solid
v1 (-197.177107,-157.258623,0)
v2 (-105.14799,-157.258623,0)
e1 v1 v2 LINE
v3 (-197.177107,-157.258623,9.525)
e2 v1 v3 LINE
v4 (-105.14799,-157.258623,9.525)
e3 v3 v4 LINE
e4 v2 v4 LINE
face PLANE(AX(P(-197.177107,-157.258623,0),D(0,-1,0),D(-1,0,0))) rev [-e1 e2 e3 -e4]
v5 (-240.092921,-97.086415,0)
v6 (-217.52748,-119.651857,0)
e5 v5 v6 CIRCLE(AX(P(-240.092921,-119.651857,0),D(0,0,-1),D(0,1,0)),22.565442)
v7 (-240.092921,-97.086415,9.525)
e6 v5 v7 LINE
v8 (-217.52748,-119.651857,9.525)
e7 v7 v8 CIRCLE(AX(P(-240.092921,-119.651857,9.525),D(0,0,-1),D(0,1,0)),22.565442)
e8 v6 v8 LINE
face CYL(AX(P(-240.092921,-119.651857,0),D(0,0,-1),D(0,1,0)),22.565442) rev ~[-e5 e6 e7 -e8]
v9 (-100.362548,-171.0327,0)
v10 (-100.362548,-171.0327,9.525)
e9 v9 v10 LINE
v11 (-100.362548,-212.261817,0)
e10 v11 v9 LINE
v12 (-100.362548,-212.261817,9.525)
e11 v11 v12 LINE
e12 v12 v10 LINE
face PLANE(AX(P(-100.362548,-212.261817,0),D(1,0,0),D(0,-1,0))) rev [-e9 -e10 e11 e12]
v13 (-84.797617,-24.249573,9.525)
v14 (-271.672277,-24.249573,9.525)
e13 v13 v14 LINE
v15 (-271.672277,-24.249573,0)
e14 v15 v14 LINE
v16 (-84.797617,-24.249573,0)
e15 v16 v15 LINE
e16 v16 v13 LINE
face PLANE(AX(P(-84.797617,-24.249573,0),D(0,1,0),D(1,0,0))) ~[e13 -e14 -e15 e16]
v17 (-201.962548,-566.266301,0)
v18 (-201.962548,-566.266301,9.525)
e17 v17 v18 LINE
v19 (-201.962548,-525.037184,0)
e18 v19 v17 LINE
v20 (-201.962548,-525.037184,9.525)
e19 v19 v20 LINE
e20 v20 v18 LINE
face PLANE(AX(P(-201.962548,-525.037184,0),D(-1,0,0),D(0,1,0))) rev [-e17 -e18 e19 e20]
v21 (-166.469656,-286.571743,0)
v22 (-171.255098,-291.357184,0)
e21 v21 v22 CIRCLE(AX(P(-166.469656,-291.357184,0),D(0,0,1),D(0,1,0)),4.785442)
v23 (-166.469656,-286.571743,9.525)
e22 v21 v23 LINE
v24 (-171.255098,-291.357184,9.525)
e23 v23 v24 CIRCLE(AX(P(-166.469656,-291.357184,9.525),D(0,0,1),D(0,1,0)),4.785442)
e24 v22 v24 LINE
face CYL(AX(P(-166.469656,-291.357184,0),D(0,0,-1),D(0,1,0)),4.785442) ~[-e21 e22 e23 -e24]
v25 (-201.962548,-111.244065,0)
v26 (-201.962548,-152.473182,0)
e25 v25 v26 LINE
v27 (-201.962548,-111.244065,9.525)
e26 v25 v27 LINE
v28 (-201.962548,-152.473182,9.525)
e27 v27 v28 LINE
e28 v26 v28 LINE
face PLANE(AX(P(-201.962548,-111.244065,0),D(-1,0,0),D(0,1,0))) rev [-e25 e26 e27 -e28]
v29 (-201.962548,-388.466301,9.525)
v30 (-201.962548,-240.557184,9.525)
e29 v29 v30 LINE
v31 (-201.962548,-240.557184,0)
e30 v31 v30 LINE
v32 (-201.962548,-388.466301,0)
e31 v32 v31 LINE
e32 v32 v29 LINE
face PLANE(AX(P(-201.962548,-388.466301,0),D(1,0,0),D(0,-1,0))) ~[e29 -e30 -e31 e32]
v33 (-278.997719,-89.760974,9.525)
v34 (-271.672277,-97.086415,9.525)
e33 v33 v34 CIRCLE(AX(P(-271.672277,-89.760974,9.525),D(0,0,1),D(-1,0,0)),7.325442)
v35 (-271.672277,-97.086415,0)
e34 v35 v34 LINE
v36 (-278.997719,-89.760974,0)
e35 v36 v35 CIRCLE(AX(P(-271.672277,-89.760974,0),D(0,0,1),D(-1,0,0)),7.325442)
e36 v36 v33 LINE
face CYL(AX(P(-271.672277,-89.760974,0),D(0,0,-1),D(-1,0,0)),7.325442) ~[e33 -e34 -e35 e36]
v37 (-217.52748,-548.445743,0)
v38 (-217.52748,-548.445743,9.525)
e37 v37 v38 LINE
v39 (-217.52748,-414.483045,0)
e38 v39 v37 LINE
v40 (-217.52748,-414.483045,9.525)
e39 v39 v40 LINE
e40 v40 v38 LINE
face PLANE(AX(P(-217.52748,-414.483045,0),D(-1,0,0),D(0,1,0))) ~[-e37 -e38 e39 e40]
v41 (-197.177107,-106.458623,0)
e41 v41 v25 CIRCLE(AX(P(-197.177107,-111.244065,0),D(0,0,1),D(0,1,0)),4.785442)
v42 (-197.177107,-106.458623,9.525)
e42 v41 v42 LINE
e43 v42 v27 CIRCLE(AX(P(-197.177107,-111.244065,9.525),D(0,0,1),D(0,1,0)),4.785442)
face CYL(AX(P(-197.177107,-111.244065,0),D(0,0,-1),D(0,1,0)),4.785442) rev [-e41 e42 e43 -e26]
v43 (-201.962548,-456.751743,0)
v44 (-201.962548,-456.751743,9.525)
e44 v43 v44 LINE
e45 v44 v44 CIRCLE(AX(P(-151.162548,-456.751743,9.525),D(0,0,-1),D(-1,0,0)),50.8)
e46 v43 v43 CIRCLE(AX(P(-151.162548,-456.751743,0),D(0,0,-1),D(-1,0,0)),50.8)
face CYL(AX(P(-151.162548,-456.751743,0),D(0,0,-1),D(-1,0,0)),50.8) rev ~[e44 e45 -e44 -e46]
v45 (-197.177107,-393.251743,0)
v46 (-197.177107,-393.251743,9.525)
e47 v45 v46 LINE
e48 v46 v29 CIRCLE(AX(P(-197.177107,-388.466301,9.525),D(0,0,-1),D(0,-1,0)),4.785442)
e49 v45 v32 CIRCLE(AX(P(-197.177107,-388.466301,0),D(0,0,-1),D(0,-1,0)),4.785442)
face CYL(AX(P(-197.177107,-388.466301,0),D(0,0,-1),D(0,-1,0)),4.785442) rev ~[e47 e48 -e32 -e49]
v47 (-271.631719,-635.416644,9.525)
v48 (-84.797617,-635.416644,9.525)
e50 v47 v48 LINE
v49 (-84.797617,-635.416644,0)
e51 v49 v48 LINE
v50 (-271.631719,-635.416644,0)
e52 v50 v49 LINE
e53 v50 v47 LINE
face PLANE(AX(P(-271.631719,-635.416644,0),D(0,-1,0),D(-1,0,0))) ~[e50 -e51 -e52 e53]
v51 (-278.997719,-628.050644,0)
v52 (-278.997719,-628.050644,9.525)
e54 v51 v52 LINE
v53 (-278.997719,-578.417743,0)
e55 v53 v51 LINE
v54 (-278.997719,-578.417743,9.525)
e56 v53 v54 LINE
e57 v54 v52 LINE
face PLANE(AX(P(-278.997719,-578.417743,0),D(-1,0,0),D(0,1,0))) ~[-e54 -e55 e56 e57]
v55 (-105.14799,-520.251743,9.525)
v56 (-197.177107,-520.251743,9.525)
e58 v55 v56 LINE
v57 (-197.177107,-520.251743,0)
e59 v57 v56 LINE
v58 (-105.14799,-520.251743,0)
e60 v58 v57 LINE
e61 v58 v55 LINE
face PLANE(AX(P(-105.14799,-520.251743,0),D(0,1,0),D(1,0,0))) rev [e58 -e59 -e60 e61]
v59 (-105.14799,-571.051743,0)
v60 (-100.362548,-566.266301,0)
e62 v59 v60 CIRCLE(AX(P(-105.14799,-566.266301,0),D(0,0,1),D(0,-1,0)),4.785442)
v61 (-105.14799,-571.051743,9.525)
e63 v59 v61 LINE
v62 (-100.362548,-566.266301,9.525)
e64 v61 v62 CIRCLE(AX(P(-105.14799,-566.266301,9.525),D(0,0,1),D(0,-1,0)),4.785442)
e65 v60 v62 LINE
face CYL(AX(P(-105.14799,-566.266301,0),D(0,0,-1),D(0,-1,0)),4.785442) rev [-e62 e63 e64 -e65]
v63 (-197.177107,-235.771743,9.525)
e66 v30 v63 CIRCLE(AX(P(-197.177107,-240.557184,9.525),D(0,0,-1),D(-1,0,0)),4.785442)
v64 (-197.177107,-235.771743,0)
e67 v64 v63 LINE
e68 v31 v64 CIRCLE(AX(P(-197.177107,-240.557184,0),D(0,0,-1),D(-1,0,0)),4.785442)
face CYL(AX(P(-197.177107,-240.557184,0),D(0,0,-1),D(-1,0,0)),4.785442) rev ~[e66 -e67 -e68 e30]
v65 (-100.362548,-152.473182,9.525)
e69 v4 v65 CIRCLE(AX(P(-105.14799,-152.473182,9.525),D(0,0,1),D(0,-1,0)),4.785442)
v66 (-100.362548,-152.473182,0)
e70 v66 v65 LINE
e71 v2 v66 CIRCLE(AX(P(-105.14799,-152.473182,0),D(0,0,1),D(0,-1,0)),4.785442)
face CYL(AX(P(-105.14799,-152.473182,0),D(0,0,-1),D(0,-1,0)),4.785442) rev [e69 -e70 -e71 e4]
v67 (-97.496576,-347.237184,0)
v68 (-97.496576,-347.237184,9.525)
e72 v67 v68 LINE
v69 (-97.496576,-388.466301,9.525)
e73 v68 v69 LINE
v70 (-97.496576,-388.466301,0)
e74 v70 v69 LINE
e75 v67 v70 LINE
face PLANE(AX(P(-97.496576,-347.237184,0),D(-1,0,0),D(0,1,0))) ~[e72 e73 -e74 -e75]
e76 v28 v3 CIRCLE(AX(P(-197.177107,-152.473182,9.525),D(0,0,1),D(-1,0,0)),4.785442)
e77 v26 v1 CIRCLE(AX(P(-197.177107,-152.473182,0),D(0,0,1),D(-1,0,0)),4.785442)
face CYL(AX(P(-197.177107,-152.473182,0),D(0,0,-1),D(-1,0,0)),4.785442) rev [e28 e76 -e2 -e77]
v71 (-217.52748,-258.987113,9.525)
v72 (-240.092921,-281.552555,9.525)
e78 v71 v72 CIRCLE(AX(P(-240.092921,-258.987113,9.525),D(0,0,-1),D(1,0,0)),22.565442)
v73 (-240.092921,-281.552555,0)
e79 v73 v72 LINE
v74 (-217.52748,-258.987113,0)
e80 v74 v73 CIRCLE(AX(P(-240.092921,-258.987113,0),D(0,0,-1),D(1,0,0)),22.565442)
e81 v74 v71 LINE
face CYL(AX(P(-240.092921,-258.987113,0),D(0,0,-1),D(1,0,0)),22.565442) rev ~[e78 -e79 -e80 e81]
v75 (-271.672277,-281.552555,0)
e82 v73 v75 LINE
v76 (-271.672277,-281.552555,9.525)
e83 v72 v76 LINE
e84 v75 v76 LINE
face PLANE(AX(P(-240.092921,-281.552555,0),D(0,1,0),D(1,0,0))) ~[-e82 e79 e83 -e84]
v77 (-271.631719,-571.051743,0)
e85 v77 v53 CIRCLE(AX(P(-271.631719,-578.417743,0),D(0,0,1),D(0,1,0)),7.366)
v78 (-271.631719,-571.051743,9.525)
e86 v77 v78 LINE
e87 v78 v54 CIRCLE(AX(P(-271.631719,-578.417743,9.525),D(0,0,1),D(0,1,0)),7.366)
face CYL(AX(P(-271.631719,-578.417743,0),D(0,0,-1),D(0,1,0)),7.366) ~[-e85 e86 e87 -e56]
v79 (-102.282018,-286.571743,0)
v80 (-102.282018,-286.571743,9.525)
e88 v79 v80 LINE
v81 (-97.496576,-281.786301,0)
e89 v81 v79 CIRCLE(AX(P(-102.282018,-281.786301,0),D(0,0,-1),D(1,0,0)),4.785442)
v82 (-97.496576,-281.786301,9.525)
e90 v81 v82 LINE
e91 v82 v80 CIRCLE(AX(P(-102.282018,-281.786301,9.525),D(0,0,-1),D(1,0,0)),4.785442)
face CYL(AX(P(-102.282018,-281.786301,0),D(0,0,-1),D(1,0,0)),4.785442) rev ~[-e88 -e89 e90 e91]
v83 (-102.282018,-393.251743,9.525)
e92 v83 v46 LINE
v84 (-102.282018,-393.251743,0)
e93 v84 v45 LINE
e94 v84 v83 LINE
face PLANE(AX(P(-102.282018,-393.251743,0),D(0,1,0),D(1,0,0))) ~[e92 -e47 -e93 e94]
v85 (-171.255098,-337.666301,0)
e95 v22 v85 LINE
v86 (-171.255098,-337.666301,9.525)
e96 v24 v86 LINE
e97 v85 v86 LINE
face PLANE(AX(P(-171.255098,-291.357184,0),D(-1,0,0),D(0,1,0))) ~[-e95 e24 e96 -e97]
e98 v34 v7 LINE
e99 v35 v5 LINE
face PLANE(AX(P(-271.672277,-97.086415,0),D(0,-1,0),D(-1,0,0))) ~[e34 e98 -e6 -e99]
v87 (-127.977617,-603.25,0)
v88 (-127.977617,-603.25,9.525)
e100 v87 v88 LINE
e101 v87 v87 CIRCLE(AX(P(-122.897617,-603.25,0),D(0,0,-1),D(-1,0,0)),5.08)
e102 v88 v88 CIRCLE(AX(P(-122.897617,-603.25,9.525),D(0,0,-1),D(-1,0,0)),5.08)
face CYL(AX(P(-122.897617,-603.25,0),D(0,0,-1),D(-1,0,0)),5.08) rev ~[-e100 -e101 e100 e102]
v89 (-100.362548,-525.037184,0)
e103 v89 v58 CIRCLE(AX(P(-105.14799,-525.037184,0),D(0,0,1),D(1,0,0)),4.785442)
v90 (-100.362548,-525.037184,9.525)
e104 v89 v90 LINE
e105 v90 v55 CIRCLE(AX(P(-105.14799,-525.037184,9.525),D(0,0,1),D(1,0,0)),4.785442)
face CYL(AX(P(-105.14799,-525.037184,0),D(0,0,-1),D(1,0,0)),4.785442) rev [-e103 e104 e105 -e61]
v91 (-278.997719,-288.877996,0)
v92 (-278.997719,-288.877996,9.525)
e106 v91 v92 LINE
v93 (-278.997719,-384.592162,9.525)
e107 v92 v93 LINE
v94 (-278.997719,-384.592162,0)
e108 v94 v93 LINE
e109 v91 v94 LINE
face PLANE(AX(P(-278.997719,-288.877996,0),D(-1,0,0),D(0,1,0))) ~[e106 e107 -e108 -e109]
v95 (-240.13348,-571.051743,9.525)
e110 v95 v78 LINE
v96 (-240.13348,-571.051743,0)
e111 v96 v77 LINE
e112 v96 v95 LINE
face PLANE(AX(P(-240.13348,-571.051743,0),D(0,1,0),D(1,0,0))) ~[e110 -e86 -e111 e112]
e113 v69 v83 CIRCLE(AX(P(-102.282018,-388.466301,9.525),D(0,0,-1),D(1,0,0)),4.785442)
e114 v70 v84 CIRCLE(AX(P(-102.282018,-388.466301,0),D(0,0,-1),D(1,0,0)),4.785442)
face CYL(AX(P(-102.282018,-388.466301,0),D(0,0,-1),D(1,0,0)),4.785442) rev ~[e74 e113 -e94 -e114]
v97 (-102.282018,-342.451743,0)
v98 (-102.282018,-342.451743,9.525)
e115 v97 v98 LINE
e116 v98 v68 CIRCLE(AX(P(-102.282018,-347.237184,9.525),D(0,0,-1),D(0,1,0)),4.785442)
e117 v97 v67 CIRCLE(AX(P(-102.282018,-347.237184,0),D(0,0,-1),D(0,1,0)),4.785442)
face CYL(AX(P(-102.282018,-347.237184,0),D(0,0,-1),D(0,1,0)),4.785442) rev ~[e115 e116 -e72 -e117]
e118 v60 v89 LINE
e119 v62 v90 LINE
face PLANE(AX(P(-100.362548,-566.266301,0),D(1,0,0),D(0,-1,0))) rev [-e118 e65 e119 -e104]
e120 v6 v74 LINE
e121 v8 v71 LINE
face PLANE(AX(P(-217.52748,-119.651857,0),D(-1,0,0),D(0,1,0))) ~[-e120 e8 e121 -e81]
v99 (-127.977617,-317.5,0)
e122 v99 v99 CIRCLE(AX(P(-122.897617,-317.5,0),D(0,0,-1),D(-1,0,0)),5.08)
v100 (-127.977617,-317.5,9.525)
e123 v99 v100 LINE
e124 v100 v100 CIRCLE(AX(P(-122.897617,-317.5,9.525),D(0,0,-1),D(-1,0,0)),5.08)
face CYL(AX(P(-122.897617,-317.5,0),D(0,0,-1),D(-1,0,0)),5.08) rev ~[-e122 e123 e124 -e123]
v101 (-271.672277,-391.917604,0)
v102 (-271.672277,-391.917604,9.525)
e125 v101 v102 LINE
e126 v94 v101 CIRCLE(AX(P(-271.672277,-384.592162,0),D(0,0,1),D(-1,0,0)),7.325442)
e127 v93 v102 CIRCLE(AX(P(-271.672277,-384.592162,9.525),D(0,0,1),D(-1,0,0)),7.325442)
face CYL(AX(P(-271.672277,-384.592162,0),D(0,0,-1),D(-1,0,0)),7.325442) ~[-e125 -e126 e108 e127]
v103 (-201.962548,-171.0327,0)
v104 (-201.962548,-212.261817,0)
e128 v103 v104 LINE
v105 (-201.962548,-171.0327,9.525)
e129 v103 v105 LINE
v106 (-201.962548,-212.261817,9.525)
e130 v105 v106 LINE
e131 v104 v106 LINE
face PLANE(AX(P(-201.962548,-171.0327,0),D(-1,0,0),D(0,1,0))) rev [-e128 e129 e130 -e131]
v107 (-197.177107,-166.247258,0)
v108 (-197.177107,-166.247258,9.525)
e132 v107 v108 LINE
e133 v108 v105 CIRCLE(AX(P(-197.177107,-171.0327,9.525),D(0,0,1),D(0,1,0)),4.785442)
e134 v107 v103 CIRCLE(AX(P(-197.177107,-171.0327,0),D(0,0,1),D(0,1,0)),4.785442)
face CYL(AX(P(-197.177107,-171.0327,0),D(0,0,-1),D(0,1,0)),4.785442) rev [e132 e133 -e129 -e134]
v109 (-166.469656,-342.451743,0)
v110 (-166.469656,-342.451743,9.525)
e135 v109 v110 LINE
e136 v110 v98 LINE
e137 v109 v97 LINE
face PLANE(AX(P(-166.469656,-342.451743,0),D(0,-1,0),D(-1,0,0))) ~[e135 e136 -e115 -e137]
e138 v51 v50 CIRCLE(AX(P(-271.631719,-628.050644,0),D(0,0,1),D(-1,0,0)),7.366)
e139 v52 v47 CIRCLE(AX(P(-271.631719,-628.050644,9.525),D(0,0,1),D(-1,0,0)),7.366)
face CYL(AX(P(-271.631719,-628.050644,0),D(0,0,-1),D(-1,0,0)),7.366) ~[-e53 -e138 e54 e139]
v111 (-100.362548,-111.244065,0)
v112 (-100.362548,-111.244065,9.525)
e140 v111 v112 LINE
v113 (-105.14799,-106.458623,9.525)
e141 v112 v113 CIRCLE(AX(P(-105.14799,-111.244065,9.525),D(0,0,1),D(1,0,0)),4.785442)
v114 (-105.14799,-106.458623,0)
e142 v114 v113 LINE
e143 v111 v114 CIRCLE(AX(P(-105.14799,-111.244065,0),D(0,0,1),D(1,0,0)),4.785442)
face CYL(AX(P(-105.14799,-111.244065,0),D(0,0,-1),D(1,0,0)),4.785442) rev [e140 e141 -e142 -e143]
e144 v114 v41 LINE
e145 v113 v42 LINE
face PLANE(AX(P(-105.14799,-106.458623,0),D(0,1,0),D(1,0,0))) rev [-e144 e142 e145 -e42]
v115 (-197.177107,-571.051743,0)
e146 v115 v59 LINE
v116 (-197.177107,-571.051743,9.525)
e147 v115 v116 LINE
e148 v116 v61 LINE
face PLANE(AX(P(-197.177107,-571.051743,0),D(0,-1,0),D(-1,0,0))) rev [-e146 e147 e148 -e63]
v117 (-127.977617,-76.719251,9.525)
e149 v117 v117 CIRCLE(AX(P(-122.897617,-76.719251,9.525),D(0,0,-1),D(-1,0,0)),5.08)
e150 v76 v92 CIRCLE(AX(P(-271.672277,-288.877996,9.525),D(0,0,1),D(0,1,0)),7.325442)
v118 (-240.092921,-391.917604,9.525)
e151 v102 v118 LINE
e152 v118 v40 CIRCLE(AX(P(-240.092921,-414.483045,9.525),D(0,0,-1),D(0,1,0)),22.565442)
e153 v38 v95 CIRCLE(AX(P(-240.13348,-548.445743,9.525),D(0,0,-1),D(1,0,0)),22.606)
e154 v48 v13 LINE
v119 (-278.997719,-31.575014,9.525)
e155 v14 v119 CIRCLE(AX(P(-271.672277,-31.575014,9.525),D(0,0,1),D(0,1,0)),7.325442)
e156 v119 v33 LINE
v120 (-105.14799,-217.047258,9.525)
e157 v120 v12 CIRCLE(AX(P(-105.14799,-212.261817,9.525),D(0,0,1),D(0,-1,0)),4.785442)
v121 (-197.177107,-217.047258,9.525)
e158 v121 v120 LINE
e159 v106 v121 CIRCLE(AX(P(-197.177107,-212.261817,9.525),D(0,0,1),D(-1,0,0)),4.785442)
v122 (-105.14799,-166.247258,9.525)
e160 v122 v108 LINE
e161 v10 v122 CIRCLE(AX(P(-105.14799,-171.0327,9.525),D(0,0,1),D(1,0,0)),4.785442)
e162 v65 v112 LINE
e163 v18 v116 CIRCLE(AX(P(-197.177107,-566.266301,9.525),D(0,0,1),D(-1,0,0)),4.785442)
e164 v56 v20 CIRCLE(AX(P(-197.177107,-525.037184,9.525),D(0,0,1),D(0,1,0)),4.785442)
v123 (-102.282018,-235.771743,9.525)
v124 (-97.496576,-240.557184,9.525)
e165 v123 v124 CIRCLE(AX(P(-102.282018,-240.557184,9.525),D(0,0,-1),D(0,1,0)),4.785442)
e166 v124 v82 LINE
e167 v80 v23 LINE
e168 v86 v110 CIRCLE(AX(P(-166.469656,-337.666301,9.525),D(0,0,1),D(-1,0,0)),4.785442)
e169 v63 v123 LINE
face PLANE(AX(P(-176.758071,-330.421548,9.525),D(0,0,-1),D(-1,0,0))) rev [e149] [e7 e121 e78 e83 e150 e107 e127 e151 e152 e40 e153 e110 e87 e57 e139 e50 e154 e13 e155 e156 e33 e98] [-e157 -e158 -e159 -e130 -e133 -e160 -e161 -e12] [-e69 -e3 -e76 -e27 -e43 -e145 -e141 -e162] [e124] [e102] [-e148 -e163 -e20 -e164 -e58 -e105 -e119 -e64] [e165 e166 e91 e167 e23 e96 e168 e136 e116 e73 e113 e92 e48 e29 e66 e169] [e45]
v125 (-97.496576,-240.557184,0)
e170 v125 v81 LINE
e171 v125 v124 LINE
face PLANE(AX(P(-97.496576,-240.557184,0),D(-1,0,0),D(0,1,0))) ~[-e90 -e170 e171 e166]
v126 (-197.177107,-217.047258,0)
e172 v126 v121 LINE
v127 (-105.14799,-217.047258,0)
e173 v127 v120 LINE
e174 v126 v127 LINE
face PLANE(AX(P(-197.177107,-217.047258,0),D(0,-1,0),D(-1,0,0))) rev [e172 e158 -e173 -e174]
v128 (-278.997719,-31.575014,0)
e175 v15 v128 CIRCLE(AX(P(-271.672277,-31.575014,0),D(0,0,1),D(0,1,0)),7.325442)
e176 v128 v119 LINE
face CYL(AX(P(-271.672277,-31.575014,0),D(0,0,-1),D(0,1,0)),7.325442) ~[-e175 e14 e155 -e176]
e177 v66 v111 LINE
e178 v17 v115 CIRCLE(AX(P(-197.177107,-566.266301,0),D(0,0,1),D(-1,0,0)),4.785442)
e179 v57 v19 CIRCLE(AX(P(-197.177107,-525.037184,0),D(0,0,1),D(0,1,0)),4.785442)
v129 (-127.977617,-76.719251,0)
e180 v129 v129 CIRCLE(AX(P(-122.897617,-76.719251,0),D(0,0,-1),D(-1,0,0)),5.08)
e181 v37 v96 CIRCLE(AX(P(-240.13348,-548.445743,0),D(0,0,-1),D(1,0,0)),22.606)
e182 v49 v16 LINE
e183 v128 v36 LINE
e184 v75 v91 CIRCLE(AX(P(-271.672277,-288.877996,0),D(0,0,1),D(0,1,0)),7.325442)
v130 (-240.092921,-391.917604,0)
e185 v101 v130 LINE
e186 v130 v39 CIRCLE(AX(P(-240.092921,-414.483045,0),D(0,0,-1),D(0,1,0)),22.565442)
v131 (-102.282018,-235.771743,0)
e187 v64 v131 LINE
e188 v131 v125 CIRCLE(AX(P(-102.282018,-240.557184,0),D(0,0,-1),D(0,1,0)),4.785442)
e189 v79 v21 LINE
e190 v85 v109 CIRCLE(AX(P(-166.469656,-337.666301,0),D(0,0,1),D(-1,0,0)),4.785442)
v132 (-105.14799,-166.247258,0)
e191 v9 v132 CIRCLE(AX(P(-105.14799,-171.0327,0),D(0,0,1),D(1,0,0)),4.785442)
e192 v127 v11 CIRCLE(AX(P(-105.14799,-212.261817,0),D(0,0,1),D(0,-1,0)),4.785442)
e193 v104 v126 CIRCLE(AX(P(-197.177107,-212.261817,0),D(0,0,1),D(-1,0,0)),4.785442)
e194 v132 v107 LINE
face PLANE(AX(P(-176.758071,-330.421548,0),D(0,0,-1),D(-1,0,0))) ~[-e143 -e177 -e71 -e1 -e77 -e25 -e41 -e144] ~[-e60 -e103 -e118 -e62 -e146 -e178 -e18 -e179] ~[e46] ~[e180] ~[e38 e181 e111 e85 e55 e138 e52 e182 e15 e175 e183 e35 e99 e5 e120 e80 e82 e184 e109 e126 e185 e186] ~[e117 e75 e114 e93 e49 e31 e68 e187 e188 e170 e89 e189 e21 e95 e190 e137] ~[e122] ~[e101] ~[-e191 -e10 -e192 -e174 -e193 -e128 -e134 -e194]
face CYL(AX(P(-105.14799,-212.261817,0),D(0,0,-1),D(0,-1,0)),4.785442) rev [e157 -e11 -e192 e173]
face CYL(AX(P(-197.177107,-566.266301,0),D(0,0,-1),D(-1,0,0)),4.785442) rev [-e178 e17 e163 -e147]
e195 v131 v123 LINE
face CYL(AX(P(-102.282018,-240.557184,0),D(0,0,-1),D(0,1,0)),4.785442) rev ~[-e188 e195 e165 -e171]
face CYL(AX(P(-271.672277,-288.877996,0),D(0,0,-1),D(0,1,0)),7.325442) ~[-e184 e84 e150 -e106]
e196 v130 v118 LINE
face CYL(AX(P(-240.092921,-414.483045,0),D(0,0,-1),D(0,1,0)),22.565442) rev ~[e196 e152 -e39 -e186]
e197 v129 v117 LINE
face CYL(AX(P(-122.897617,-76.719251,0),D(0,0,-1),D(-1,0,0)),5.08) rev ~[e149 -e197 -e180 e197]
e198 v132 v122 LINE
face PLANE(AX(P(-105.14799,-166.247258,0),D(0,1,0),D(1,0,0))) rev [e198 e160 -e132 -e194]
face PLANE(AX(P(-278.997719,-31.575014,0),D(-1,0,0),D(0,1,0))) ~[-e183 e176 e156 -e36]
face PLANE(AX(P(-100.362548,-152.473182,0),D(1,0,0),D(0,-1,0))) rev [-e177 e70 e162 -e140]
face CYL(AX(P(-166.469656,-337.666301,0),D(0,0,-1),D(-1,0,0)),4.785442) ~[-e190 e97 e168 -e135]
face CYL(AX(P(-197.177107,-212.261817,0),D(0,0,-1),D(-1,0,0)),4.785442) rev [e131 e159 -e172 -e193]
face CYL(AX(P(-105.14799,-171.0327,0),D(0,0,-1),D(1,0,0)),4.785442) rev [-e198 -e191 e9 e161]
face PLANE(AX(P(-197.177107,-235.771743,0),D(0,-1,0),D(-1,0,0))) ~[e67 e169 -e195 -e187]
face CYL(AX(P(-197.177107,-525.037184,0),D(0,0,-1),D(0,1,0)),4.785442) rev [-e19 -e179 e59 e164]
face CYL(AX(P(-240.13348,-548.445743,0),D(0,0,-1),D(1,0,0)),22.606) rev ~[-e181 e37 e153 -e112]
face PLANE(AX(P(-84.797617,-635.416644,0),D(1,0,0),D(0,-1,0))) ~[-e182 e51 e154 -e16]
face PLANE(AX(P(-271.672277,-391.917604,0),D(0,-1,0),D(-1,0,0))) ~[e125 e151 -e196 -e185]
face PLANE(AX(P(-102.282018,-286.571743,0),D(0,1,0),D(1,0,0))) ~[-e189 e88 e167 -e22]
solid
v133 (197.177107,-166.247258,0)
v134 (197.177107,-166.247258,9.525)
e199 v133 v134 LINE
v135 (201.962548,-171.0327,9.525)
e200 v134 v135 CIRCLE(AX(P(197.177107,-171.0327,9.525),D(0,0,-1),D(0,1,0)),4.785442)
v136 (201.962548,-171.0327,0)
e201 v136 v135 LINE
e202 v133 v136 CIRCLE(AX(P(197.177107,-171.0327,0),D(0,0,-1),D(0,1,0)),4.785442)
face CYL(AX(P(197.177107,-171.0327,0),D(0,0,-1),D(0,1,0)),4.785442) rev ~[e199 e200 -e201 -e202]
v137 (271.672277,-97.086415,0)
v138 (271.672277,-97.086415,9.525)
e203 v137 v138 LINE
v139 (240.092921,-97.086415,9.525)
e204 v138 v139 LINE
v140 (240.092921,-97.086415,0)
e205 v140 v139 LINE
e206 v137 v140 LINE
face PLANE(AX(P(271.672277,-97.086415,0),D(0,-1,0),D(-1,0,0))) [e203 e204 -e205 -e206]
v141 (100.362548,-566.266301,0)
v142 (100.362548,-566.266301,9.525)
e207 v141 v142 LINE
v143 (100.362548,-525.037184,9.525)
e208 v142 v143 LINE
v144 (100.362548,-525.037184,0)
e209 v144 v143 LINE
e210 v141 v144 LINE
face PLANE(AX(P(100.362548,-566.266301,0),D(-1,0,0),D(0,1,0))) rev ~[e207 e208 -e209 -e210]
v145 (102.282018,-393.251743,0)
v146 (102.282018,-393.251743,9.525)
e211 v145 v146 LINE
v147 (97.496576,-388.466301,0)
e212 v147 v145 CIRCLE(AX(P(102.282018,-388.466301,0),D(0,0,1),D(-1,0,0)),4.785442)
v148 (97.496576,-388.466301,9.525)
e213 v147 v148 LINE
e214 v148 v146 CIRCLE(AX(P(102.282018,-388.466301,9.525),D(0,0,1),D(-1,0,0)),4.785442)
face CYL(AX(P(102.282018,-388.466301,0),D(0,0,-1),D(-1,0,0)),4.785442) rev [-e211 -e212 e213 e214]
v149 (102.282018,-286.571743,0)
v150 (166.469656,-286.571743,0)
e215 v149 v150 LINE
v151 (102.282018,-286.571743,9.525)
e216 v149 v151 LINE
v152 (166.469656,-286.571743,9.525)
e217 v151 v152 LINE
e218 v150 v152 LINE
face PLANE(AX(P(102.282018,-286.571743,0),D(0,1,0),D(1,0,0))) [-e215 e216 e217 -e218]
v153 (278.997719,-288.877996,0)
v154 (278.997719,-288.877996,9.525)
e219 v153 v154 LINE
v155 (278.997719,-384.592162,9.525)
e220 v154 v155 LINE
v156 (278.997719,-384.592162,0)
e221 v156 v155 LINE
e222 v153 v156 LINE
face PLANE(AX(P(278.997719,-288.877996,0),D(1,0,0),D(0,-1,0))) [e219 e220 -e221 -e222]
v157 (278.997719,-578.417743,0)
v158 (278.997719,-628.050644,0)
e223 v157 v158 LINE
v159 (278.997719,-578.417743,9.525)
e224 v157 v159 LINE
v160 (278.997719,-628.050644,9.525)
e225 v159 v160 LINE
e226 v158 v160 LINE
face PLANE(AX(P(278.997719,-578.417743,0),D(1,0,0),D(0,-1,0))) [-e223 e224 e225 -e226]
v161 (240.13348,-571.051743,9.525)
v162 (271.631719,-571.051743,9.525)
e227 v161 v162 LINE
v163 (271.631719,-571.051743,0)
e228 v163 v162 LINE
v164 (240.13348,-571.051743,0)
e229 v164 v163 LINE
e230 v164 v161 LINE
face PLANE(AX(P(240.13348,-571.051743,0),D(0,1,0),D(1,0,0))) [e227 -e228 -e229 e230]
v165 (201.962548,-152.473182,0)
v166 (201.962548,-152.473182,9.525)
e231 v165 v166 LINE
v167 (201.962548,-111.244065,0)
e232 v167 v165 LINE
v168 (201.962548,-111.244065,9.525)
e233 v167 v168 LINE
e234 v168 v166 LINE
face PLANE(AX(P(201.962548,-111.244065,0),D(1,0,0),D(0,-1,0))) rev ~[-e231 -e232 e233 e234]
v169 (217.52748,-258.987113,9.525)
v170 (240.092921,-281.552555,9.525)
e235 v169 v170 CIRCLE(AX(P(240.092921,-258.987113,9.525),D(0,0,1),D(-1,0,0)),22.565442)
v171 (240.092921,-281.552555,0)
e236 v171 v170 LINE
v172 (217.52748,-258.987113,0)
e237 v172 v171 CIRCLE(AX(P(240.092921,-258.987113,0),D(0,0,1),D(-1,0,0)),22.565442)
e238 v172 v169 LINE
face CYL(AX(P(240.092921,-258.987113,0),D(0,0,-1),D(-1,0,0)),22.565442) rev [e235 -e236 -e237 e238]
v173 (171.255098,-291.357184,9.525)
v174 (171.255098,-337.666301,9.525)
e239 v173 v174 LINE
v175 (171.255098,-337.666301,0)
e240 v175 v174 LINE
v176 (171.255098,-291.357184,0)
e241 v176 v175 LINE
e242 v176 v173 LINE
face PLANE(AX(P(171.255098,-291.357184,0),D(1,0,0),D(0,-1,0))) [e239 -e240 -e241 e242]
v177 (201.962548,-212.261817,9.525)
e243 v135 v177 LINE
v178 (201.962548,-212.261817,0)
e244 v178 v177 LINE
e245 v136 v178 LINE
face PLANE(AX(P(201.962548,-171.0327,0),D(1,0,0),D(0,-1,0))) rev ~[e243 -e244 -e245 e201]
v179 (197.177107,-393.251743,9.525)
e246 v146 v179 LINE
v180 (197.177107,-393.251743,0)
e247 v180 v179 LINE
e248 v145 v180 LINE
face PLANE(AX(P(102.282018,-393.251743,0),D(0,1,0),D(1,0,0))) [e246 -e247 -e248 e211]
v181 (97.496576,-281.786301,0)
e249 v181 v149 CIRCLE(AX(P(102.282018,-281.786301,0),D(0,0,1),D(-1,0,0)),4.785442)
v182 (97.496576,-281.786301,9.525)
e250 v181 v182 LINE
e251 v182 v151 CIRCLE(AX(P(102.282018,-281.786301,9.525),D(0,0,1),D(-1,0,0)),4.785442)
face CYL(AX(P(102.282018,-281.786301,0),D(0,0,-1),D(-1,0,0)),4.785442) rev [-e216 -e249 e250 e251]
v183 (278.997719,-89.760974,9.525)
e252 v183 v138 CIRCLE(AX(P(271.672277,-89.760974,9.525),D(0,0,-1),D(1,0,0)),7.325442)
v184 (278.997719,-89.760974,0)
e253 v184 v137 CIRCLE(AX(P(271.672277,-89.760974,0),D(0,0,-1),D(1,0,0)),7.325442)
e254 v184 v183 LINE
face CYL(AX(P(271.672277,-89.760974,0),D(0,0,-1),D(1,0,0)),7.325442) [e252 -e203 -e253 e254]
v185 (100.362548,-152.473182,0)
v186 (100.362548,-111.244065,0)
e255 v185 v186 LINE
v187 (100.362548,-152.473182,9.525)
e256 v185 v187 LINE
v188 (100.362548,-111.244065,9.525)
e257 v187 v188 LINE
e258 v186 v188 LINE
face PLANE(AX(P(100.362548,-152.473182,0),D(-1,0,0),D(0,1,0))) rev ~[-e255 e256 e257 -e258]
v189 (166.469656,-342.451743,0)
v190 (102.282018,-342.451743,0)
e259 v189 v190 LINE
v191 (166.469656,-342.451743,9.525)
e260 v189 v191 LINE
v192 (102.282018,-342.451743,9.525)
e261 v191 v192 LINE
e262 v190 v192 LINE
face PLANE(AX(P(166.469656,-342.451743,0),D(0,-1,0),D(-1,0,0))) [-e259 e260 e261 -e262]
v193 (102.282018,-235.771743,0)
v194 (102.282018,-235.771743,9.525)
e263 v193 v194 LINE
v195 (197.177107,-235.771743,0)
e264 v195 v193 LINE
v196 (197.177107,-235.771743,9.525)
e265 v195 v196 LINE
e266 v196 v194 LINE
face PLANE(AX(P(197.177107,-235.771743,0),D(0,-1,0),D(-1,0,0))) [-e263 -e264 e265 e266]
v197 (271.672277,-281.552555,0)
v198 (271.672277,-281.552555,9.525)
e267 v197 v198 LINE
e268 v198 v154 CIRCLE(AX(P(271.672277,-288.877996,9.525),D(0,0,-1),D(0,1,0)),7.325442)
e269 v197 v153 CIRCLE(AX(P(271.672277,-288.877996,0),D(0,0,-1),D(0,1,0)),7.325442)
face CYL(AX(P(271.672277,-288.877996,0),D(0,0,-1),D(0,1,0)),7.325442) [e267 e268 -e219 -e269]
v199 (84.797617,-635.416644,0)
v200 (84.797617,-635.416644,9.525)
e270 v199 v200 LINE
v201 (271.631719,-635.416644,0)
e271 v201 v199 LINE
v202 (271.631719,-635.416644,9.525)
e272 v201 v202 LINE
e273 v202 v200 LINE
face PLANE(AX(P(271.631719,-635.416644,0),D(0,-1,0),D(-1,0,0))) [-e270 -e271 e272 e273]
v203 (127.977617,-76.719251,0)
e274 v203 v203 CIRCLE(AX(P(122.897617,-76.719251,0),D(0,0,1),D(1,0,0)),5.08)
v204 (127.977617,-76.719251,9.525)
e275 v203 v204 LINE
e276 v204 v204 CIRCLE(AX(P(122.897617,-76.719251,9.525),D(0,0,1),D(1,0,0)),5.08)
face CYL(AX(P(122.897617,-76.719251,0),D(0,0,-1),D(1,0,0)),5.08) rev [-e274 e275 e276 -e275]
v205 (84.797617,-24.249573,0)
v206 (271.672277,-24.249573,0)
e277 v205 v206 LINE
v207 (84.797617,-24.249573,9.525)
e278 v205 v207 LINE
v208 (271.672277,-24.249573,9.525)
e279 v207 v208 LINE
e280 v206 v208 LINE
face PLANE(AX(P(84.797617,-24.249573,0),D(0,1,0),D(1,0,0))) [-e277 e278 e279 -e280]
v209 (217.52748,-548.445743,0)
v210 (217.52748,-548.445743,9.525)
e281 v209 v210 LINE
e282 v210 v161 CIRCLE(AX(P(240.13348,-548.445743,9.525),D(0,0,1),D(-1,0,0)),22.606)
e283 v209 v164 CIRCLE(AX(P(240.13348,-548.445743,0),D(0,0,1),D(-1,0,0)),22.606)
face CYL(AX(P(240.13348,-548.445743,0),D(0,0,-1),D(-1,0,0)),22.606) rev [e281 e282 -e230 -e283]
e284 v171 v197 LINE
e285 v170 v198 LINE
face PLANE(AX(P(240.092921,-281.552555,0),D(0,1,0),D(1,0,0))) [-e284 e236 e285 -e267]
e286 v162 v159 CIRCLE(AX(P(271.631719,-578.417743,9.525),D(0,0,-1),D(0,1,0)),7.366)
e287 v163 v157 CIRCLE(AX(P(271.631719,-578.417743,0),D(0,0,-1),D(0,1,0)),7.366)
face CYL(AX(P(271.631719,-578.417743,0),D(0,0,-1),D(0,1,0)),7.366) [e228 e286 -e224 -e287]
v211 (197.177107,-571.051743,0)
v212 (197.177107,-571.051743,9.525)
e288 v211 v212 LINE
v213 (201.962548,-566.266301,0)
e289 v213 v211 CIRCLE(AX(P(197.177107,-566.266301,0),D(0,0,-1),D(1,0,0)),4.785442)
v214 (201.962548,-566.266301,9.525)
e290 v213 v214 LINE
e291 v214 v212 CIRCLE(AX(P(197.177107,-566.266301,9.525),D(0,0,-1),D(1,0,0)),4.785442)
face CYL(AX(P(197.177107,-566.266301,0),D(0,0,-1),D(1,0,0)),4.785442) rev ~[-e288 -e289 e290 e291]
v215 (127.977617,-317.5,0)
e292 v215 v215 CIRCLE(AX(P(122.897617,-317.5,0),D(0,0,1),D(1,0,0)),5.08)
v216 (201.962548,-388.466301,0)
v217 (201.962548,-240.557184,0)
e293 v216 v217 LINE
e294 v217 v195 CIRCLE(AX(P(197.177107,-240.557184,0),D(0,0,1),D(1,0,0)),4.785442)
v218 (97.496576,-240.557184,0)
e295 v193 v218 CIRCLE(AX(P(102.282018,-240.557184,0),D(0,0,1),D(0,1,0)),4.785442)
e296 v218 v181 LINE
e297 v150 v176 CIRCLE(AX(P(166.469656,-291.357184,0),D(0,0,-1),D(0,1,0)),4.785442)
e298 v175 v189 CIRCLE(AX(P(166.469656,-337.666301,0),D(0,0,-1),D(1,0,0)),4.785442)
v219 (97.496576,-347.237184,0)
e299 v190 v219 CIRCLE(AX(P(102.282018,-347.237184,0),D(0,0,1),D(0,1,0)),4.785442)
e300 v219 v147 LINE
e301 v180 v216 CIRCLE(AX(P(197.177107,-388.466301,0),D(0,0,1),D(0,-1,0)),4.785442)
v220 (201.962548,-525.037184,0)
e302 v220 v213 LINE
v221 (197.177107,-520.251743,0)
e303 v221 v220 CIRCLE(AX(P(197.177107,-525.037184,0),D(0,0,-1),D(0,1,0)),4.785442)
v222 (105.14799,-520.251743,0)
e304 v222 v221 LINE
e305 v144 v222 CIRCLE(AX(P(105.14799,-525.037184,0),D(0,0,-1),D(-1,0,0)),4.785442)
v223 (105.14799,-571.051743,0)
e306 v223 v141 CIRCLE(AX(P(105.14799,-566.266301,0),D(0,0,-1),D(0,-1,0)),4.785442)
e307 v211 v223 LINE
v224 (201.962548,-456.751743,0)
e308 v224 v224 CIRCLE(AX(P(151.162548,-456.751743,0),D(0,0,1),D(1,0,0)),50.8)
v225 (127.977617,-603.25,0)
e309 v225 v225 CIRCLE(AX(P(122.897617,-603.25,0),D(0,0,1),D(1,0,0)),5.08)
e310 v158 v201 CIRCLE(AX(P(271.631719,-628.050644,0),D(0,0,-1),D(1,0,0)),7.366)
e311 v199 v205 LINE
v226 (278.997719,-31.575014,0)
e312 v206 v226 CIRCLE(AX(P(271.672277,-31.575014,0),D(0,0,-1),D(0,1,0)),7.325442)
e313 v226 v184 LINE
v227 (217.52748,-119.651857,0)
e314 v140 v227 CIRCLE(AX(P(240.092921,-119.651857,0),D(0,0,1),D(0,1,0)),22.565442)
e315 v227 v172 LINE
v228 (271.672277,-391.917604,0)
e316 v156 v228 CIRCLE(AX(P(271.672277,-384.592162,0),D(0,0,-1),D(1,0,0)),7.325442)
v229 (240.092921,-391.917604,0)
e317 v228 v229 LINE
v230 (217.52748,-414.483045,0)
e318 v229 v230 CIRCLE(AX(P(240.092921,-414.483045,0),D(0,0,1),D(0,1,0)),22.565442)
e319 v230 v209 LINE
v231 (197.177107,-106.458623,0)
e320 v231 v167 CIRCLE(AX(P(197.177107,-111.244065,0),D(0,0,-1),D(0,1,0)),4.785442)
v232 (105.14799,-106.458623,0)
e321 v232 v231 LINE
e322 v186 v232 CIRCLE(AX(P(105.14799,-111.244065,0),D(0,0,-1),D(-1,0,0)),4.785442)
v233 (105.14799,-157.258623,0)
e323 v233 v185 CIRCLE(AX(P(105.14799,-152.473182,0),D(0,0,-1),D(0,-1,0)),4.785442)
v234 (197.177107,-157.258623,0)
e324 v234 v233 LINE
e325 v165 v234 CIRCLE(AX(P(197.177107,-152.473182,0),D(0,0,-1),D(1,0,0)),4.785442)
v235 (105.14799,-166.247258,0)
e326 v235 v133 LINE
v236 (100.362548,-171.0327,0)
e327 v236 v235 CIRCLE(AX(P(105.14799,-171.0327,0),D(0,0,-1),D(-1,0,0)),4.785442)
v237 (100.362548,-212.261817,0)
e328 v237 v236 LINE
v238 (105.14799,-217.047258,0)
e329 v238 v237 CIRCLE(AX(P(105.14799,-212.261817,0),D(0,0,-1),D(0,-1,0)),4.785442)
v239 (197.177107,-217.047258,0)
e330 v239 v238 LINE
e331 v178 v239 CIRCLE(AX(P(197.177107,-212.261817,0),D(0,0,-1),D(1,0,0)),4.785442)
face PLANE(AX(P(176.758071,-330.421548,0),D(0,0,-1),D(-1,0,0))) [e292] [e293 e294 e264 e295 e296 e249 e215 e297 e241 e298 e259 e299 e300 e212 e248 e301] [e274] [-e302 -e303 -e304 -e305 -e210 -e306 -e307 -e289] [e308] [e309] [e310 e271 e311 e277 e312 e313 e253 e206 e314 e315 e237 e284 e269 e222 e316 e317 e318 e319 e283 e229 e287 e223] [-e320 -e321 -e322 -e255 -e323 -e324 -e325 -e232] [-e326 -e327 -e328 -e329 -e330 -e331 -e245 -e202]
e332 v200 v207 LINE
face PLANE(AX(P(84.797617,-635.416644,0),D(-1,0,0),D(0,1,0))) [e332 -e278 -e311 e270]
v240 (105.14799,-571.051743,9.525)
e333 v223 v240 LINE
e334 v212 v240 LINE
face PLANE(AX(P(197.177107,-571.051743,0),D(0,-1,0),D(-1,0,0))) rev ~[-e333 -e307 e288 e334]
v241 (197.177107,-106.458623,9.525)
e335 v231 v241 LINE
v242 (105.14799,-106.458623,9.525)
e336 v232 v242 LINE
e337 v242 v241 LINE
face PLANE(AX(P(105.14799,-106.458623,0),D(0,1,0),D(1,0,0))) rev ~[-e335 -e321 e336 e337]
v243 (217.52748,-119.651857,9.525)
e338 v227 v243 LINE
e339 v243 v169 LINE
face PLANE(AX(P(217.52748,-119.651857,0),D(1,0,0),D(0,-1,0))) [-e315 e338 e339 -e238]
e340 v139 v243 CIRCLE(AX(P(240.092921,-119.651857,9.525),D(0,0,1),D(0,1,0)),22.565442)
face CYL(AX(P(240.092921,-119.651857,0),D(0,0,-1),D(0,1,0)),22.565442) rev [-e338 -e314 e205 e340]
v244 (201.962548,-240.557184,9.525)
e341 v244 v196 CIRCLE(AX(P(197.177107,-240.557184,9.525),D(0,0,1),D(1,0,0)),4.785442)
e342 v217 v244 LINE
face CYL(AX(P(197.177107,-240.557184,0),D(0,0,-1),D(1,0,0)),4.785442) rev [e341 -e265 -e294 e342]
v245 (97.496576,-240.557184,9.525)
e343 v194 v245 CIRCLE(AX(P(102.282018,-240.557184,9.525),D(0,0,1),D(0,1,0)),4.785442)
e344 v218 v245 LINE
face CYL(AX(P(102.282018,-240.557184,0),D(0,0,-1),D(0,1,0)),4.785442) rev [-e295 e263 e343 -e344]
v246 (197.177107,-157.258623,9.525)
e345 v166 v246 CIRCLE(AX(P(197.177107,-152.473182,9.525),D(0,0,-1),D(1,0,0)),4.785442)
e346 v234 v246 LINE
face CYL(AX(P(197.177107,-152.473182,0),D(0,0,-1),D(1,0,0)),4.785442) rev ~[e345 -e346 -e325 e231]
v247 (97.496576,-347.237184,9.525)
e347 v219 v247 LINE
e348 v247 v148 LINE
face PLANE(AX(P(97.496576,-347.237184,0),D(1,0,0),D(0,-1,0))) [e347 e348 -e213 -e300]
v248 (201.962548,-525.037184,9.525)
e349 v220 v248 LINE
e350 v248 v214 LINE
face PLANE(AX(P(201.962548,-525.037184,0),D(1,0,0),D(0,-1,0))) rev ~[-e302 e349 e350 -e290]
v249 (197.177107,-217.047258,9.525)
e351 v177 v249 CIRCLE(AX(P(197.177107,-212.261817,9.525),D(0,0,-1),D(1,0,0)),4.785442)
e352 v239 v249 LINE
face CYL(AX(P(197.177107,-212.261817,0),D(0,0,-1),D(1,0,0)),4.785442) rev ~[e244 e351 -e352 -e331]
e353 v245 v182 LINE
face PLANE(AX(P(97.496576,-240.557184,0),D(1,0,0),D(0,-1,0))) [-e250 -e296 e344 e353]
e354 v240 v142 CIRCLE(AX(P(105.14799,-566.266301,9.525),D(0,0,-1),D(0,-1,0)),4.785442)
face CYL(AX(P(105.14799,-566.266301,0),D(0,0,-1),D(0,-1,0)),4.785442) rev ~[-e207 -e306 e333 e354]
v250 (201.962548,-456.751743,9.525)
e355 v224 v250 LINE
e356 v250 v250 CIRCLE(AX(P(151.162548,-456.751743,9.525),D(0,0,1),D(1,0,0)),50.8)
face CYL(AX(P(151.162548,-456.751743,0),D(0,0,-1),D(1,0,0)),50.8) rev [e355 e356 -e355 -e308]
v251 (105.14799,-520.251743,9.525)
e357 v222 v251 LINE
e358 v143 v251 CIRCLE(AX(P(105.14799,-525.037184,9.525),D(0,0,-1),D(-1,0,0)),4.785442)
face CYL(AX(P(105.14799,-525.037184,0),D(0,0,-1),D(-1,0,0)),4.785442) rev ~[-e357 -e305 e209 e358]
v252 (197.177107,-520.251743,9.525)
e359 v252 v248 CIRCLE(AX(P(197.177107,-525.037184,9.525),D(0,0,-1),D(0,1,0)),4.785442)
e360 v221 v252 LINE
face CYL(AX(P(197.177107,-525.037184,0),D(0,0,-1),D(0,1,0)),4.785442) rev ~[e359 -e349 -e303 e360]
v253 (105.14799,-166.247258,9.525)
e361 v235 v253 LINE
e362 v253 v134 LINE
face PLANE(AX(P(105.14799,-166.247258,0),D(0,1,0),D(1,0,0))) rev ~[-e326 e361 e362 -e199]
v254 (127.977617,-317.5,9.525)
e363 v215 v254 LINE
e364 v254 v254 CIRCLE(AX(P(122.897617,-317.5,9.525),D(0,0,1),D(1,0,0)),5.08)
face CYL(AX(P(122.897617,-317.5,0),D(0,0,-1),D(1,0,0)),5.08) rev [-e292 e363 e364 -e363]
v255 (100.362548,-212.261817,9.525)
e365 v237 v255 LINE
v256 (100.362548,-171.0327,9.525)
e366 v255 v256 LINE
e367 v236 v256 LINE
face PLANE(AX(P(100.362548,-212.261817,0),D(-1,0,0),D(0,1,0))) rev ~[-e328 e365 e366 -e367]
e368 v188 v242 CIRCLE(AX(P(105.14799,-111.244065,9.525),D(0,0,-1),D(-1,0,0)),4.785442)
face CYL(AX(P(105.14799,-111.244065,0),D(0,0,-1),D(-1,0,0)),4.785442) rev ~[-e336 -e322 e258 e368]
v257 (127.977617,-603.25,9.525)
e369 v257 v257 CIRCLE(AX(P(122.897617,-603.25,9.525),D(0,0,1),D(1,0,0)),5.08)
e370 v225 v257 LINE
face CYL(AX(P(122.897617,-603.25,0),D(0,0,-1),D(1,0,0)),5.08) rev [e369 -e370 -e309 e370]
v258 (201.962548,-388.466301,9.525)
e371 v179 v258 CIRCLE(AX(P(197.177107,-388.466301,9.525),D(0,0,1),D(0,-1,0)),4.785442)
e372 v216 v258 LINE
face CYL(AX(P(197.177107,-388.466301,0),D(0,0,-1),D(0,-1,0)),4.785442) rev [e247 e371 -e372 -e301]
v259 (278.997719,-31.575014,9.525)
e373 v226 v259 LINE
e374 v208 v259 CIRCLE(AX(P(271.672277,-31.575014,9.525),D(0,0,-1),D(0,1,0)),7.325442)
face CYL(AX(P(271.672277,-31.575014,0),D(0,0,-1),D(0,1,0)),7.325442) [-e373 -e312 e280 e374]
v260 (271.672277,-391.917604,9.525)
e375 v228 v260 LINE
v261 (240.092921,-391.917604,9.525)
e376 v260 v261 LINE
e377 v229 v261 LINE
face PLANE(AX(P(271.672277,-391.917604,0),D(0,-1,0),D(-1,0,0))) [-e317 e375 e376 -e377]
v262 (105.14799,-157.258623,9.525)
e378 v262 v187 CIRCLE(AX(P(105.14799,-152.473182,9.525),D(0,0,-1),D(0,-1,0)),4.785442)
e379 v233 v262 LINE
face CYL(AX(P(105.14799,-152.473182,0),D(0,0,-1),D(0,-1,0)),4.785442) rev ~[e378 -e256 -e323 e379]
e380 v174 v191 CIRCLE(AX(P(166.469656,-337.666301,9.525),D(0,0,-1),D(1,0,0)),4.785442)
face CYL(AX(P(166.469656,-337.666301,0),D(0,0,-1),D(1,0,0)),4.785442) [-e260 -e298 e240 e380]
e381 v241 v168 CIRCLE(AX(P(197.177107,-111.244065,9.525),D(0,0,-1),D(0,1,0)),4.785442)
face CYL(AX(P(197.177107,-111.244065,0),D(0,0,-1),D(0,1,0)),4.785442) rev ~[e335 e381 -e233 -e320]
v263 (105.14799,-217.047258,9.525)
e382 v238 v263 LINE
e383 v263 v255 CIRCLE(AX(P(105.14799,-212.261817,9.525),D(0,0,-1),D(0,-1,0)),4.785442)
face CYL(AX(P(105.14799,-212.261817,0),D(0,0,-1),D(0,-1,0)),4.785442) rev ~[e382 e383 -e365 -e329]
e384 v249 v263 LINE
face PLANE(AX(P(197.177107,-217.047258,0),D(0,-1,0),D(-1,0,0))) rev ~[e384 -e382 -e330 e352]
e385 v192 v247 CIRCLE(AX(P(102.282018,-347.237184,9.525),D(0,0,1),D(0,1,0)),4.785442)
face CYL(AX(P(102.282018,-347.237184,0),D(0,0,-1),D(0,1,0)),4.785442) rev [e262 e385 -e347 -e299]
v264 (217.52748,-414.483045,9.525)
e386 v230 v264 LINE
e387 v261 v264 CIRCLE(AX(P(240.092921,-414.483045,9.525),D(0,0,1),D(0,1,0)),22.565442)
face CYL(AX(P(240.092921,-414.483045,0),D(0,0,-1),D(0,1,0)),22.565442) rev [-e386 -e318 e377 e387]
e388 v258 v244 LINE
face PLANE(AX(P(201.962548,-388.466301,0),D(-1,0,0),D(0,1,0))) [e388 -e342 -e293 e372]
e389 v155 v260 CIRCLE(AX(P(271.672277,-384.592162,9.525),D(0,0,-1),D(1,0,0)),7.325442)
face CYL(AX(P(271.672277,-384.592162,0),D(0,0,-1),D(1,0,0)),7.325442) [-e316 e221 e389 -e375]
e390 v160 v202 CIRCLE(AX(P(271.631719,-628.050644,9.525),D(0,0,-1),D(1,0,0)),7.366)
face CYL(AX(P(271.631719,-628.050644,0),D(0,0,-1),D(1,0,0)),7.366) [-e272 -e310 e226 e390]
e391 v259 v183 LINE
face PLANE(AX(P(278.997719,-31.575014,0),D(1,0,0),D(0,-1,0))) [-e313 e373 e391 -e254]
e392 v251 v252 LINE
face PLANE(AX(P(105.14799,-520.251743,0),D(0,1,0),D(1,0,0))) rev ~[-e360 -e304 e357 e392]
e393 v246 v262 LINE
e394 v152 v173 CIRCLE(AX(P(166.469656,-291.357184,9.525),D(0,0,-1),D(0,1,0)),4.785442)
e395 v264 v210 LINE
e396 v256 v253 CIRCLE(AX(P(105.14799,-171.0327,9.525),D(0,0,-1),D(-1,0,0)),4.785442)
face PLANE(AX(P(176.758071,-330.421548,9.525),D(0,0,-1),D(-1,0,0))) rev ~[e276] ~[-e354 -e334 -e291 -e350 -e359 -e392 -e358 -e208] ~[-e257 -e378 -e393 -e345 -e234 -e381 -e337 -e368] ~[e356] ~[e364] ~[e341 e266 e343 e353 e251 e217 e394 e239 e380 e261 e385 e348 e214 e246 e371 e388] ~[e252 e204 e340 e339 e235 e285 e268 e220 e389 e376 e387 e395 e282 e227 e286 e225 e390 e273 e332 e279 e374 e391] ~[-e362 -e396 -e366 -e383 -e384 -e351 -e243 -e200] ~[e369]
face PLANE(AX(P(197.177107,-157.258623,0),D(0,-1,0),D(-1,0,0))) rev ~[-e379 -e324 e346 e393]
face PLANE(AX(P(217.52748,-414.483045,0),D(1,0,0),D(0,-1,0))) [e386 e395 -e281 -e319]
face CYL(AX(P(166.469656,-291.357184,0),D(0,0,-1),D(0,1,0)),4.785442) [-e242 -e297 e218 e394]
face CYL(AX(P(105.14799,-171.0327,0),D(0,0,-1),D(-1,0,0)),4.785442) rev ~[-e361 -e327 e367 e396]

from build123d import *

# Parameters (mm, degrees)
SKETCH2_R           = 50.8
SKETCH2_R_2         = 5.08
BOSS_EXTRUDE1_DEPTH = 9.525


with BuildPart() as part:
    # Sketch2 → Boss-Extrude1 (new body)
    with BuildSketch(Plane.XY):
        with BuildLine():
            Line((84.797616832, -24.249572544), (218.42106791, -24.249572544))
            Line((218.42106791, -24.249572544), (271.672277076, -24.249572544))
            ThreePointArc((271.672277076, -24.249572544), (276.852146452, -26.395144691), (278.997718599, -31.575014067))
            Line((278.997718599, -31.575014067), (278.997718599, -89.760973963))
            ThreePointArc((278.997718599, -89.760973963), (276.852146452, -94.940843339), (271.672277076, -97.086415486))
            Line((271.672277076, -97.086415486), (240.092921247, -97.086415486))
            ThreePointArc((240.092921247, -97.086415486), (224.136744526, -103.695680288), (217.527479724, -119.651857009))
            Line((217.527479724, -119.651857009), (217.527479724, -258.987113052))
            ThreePointArc((217.527479724, -258.987113052), (224.136744526, -274.943289773), (240.092921247, -281.552554575))
            Line((240.092921247, -281.552554575), (271.672277076, -281.552554575))
            ThreePointArc((271.672277076, -281.552554575), (276.852146452, -283.698126722), (278.997718599, -288.877996098))
            Line((278.997718599, -288.877996098), (278.997718599, -384.592162016))
            ThreePointArc((278.997718599, -384.592162016), (276.852146452, -389.772031392), (271.672277076, -391.917603539))
            Line((271.672277076, -391.917603539), (240.092921247, -391.917603539))
            ThreePointArc((240.092921247, -391.917603539), (224.136744526, -398.526868341), (217.527479724, -414.483045062))
            Line((217.527479724, -414.483045062), (217.527479724, -548.445742861))
            ThreePointArc((217.527479724, -548.445742861), (224.148623829, -564.430598757), (240.133479724, -571.051742861))
            Line((240.133479724, -571.051742861), (271.631718599, -571.051742861))
            ThreePointArc((271.631718599, -571.051742861), (276.840267149, -573.209194311), (278.997718599, -578.417742861))
            Line((278.997718599, -578.417742861), (278.997718599, -628.050644154))
            ThreePointArc((278.997718599, -628.050644154), (276.840267149, -633.259192705), (271.631718599, -635.416644154))
            Line((271.631718599, -635.416644154), (84.797616832, -635.416644154))
            Line((84.797616832, -635.416644154), (84.797616832, -571.048379504))
            Line((84.797616832, -571.048379504), (84.797616832, -342.455106218))
            Line((84.797616832, -342.455106218), (84.797616832, -298.45))
            Line((84.797616832, -298.45), (84.797616832, -46.093485722))
            Line((84.797616832, -46.093485722), (84.797616832, -24.249572544))
        make_face()
        with Locations((151.162548278, -456.751742861)):
            Circle(SKETCH2_R, mode=Mode.SUBTRACT)
        with Locations((122.897616832, -76.719251329)):
            Circle(SKETCH2_R_2, mode=Mode.SUBTRACT)
        with Locations((122.897616832, -317.5)):
            Circle(SKETCH2_R_2, mode=Mode.SUBTRACT)
        with Locations((122.897616832, -603.25)):
            Circle(SKETCH2_R_2, mode=Mode.SUBTRACT)
        with BuildLine():
            Line((171.255097836, -291.357184384), (171.255097836, -337.666301338))
            ThreePointArc((171.255097836, -337.666301338), (169.853474465, -341.05011949), (166.469656313, -342.451742861))
            Line((166.469656313, -342.451742861), (102.282017603, -342.451742861))
            ThreePointArc((102.282017603, -342.451742861), (98.898199451, -343.853366232), (97.49657608, -347.237184384))
            Line((97.49657608, -347.237184384), (97.49657608, -388.466301338))
            ThreePointArc((97.49657608, -388.466301338), (98.898199451, -391.85011949), (102.282017603, -393.251742861))
            Line((102.282017603, -393.251742861), (197.177106755, -393.251742861))
            ThreePointArc((197.177106755, -393.251742861), (200.560924907, -391.85011949), (201.962548278, -388.466301338))
            Line((201.962548278, -388.466301338), (201.962548278, -357.508699937))
            Line((201.962548278, -357.508699937), (201.962548278, -317.5))
            Line((201.962548278, -317.5), (201.962548278, -240.557184384))
            ThreePointArc((201.962548278, -240.557184384), (200.560924907, -237.173366232), (197.177106755, -235.771742861))
            Line((197.177106755, -235.771742861), (102.282017603, -235.771742861))
            ThreePointArc((102.282017603, -235.771742861), (98.898199451, -237.173366232), (97.49657608, -240.557184384))
            Line((97.49657608, -240.557184384), (97.49657608, -281.786301338))
            ThreePointArc((97.49657608, -281.786301338), (98.898199451, -285.17011949), (102.282017603, -286.571742861))
            Line((102.282017603, -286.571742861), (166.469656313, -286.571742861))
            ThreePointArc((166.469656313, -286.571742861), (169.853474465, -287.973366232), (171.255097836, -291.357184384))
        make_face(mode=Mode.SUBTRACT)
        with BuildLine():
            Line((105.147989801, -520.251742861), (197.177106755, -520.251742861))
            ThreePointArc((197.177106755, -520.251742861), (200.560924907, -521.653366232), (201.962548278, -525.037184384))
            Line((201.962548278, -525.037184384), (201.962548278, -566.266301338))
            ThreePointArc((201.962548278, -566.266301338), (200.560924907, -569.65011949), (197.177106755, -571.051742861))
            Line((197.177106755, -571.051742861), (105.147989801, -571.051742861))
            ThreePointArc((105.147989801, -571.051742861), (101.764171649, -569.65011949), (100.362548278, -566.266301338))
            Line((100.362548278, -566.266301338), (100.362548278, -525.037184384))
            ThreePointArc((100.362548278, -525.037184384), (101.764171649, -521.653366232), (105.147989801, -520.251742861))
        make_face(mode=Mode.SUBTRACT)
        with BuildLine():
            Line((105.147989801, -166.24725812), (197.177106755, -166.24725812))
            ThreePointArc((197.177106755, -166.24725812), (200.560924907, -167.648881491), (201.962548278, -171.032699643))
            Line((201.962548278, -171.032699643), (201.962548278, -212.261816598))
            ThreePointArc((201.962548278, -212.261816598), (200.560924907, -215.645634749), (197.177106755, -217.04725812))
            Line((197.177106755, -217.04725812), (105.147989801, -217.04725812))
            ThreePointArc((105.147989801, -217.04725812), (101.764171649, -215.645634749), (100.362548278, -212.261816598))
            Line((100.362548278, -212.261816598), (100.362548278, -171.032699643))
            ThreePointArc((100.362548278, -171.032699643), (101.764171649, -167.648881491), (105.147989801, -166.24725812))
        make_face(mode=Mode.SUBTRACT)
        with BuildLine():
            Line((105.147989801, -106.458623468), (197.177106755, -106.458623468))
            ThreePointArc((197.177106755, -106.458623468), (200.560924907, -107.860246839), (201.962548278, -111.244064991))
            Line((201.962548278, -111.244064991), (201.962548278, -152.473181945))
            ThreePointArc((201.962548278, -152.473181945), (200.560924907, -155.857000097), (197.177106755, -157.258623468))
            Line((197.177106755, -157.258623468), (105.147989801, -157.258623468))
            ThreePointArc((105.147989801, -157.258623468), (101.764171649, -155.857000097), (100.362548278, -152.473181945))
            Line((100.362548278, -152.473181945), (100.362548278, -111.244064991))
            ThreePointArc((100.362548278, -111.244064991), (101.764171649, -107.860246839), (105.147989801, -106.458623468))
        make_face(mode=Mode.SUBTRACT)
    extrude(amount=BOSS_EXTRUDE1_DEPTH)


with BuildPart() as body_2:
    # Mirror4: mirrored copy
    add(part.part.mirror(Plane(origin=(0, 0, 0), x_dir=(0, 0, 1), z_dir=(1, 0, 0))))


solid = Compound([part.part, body_2.part])
